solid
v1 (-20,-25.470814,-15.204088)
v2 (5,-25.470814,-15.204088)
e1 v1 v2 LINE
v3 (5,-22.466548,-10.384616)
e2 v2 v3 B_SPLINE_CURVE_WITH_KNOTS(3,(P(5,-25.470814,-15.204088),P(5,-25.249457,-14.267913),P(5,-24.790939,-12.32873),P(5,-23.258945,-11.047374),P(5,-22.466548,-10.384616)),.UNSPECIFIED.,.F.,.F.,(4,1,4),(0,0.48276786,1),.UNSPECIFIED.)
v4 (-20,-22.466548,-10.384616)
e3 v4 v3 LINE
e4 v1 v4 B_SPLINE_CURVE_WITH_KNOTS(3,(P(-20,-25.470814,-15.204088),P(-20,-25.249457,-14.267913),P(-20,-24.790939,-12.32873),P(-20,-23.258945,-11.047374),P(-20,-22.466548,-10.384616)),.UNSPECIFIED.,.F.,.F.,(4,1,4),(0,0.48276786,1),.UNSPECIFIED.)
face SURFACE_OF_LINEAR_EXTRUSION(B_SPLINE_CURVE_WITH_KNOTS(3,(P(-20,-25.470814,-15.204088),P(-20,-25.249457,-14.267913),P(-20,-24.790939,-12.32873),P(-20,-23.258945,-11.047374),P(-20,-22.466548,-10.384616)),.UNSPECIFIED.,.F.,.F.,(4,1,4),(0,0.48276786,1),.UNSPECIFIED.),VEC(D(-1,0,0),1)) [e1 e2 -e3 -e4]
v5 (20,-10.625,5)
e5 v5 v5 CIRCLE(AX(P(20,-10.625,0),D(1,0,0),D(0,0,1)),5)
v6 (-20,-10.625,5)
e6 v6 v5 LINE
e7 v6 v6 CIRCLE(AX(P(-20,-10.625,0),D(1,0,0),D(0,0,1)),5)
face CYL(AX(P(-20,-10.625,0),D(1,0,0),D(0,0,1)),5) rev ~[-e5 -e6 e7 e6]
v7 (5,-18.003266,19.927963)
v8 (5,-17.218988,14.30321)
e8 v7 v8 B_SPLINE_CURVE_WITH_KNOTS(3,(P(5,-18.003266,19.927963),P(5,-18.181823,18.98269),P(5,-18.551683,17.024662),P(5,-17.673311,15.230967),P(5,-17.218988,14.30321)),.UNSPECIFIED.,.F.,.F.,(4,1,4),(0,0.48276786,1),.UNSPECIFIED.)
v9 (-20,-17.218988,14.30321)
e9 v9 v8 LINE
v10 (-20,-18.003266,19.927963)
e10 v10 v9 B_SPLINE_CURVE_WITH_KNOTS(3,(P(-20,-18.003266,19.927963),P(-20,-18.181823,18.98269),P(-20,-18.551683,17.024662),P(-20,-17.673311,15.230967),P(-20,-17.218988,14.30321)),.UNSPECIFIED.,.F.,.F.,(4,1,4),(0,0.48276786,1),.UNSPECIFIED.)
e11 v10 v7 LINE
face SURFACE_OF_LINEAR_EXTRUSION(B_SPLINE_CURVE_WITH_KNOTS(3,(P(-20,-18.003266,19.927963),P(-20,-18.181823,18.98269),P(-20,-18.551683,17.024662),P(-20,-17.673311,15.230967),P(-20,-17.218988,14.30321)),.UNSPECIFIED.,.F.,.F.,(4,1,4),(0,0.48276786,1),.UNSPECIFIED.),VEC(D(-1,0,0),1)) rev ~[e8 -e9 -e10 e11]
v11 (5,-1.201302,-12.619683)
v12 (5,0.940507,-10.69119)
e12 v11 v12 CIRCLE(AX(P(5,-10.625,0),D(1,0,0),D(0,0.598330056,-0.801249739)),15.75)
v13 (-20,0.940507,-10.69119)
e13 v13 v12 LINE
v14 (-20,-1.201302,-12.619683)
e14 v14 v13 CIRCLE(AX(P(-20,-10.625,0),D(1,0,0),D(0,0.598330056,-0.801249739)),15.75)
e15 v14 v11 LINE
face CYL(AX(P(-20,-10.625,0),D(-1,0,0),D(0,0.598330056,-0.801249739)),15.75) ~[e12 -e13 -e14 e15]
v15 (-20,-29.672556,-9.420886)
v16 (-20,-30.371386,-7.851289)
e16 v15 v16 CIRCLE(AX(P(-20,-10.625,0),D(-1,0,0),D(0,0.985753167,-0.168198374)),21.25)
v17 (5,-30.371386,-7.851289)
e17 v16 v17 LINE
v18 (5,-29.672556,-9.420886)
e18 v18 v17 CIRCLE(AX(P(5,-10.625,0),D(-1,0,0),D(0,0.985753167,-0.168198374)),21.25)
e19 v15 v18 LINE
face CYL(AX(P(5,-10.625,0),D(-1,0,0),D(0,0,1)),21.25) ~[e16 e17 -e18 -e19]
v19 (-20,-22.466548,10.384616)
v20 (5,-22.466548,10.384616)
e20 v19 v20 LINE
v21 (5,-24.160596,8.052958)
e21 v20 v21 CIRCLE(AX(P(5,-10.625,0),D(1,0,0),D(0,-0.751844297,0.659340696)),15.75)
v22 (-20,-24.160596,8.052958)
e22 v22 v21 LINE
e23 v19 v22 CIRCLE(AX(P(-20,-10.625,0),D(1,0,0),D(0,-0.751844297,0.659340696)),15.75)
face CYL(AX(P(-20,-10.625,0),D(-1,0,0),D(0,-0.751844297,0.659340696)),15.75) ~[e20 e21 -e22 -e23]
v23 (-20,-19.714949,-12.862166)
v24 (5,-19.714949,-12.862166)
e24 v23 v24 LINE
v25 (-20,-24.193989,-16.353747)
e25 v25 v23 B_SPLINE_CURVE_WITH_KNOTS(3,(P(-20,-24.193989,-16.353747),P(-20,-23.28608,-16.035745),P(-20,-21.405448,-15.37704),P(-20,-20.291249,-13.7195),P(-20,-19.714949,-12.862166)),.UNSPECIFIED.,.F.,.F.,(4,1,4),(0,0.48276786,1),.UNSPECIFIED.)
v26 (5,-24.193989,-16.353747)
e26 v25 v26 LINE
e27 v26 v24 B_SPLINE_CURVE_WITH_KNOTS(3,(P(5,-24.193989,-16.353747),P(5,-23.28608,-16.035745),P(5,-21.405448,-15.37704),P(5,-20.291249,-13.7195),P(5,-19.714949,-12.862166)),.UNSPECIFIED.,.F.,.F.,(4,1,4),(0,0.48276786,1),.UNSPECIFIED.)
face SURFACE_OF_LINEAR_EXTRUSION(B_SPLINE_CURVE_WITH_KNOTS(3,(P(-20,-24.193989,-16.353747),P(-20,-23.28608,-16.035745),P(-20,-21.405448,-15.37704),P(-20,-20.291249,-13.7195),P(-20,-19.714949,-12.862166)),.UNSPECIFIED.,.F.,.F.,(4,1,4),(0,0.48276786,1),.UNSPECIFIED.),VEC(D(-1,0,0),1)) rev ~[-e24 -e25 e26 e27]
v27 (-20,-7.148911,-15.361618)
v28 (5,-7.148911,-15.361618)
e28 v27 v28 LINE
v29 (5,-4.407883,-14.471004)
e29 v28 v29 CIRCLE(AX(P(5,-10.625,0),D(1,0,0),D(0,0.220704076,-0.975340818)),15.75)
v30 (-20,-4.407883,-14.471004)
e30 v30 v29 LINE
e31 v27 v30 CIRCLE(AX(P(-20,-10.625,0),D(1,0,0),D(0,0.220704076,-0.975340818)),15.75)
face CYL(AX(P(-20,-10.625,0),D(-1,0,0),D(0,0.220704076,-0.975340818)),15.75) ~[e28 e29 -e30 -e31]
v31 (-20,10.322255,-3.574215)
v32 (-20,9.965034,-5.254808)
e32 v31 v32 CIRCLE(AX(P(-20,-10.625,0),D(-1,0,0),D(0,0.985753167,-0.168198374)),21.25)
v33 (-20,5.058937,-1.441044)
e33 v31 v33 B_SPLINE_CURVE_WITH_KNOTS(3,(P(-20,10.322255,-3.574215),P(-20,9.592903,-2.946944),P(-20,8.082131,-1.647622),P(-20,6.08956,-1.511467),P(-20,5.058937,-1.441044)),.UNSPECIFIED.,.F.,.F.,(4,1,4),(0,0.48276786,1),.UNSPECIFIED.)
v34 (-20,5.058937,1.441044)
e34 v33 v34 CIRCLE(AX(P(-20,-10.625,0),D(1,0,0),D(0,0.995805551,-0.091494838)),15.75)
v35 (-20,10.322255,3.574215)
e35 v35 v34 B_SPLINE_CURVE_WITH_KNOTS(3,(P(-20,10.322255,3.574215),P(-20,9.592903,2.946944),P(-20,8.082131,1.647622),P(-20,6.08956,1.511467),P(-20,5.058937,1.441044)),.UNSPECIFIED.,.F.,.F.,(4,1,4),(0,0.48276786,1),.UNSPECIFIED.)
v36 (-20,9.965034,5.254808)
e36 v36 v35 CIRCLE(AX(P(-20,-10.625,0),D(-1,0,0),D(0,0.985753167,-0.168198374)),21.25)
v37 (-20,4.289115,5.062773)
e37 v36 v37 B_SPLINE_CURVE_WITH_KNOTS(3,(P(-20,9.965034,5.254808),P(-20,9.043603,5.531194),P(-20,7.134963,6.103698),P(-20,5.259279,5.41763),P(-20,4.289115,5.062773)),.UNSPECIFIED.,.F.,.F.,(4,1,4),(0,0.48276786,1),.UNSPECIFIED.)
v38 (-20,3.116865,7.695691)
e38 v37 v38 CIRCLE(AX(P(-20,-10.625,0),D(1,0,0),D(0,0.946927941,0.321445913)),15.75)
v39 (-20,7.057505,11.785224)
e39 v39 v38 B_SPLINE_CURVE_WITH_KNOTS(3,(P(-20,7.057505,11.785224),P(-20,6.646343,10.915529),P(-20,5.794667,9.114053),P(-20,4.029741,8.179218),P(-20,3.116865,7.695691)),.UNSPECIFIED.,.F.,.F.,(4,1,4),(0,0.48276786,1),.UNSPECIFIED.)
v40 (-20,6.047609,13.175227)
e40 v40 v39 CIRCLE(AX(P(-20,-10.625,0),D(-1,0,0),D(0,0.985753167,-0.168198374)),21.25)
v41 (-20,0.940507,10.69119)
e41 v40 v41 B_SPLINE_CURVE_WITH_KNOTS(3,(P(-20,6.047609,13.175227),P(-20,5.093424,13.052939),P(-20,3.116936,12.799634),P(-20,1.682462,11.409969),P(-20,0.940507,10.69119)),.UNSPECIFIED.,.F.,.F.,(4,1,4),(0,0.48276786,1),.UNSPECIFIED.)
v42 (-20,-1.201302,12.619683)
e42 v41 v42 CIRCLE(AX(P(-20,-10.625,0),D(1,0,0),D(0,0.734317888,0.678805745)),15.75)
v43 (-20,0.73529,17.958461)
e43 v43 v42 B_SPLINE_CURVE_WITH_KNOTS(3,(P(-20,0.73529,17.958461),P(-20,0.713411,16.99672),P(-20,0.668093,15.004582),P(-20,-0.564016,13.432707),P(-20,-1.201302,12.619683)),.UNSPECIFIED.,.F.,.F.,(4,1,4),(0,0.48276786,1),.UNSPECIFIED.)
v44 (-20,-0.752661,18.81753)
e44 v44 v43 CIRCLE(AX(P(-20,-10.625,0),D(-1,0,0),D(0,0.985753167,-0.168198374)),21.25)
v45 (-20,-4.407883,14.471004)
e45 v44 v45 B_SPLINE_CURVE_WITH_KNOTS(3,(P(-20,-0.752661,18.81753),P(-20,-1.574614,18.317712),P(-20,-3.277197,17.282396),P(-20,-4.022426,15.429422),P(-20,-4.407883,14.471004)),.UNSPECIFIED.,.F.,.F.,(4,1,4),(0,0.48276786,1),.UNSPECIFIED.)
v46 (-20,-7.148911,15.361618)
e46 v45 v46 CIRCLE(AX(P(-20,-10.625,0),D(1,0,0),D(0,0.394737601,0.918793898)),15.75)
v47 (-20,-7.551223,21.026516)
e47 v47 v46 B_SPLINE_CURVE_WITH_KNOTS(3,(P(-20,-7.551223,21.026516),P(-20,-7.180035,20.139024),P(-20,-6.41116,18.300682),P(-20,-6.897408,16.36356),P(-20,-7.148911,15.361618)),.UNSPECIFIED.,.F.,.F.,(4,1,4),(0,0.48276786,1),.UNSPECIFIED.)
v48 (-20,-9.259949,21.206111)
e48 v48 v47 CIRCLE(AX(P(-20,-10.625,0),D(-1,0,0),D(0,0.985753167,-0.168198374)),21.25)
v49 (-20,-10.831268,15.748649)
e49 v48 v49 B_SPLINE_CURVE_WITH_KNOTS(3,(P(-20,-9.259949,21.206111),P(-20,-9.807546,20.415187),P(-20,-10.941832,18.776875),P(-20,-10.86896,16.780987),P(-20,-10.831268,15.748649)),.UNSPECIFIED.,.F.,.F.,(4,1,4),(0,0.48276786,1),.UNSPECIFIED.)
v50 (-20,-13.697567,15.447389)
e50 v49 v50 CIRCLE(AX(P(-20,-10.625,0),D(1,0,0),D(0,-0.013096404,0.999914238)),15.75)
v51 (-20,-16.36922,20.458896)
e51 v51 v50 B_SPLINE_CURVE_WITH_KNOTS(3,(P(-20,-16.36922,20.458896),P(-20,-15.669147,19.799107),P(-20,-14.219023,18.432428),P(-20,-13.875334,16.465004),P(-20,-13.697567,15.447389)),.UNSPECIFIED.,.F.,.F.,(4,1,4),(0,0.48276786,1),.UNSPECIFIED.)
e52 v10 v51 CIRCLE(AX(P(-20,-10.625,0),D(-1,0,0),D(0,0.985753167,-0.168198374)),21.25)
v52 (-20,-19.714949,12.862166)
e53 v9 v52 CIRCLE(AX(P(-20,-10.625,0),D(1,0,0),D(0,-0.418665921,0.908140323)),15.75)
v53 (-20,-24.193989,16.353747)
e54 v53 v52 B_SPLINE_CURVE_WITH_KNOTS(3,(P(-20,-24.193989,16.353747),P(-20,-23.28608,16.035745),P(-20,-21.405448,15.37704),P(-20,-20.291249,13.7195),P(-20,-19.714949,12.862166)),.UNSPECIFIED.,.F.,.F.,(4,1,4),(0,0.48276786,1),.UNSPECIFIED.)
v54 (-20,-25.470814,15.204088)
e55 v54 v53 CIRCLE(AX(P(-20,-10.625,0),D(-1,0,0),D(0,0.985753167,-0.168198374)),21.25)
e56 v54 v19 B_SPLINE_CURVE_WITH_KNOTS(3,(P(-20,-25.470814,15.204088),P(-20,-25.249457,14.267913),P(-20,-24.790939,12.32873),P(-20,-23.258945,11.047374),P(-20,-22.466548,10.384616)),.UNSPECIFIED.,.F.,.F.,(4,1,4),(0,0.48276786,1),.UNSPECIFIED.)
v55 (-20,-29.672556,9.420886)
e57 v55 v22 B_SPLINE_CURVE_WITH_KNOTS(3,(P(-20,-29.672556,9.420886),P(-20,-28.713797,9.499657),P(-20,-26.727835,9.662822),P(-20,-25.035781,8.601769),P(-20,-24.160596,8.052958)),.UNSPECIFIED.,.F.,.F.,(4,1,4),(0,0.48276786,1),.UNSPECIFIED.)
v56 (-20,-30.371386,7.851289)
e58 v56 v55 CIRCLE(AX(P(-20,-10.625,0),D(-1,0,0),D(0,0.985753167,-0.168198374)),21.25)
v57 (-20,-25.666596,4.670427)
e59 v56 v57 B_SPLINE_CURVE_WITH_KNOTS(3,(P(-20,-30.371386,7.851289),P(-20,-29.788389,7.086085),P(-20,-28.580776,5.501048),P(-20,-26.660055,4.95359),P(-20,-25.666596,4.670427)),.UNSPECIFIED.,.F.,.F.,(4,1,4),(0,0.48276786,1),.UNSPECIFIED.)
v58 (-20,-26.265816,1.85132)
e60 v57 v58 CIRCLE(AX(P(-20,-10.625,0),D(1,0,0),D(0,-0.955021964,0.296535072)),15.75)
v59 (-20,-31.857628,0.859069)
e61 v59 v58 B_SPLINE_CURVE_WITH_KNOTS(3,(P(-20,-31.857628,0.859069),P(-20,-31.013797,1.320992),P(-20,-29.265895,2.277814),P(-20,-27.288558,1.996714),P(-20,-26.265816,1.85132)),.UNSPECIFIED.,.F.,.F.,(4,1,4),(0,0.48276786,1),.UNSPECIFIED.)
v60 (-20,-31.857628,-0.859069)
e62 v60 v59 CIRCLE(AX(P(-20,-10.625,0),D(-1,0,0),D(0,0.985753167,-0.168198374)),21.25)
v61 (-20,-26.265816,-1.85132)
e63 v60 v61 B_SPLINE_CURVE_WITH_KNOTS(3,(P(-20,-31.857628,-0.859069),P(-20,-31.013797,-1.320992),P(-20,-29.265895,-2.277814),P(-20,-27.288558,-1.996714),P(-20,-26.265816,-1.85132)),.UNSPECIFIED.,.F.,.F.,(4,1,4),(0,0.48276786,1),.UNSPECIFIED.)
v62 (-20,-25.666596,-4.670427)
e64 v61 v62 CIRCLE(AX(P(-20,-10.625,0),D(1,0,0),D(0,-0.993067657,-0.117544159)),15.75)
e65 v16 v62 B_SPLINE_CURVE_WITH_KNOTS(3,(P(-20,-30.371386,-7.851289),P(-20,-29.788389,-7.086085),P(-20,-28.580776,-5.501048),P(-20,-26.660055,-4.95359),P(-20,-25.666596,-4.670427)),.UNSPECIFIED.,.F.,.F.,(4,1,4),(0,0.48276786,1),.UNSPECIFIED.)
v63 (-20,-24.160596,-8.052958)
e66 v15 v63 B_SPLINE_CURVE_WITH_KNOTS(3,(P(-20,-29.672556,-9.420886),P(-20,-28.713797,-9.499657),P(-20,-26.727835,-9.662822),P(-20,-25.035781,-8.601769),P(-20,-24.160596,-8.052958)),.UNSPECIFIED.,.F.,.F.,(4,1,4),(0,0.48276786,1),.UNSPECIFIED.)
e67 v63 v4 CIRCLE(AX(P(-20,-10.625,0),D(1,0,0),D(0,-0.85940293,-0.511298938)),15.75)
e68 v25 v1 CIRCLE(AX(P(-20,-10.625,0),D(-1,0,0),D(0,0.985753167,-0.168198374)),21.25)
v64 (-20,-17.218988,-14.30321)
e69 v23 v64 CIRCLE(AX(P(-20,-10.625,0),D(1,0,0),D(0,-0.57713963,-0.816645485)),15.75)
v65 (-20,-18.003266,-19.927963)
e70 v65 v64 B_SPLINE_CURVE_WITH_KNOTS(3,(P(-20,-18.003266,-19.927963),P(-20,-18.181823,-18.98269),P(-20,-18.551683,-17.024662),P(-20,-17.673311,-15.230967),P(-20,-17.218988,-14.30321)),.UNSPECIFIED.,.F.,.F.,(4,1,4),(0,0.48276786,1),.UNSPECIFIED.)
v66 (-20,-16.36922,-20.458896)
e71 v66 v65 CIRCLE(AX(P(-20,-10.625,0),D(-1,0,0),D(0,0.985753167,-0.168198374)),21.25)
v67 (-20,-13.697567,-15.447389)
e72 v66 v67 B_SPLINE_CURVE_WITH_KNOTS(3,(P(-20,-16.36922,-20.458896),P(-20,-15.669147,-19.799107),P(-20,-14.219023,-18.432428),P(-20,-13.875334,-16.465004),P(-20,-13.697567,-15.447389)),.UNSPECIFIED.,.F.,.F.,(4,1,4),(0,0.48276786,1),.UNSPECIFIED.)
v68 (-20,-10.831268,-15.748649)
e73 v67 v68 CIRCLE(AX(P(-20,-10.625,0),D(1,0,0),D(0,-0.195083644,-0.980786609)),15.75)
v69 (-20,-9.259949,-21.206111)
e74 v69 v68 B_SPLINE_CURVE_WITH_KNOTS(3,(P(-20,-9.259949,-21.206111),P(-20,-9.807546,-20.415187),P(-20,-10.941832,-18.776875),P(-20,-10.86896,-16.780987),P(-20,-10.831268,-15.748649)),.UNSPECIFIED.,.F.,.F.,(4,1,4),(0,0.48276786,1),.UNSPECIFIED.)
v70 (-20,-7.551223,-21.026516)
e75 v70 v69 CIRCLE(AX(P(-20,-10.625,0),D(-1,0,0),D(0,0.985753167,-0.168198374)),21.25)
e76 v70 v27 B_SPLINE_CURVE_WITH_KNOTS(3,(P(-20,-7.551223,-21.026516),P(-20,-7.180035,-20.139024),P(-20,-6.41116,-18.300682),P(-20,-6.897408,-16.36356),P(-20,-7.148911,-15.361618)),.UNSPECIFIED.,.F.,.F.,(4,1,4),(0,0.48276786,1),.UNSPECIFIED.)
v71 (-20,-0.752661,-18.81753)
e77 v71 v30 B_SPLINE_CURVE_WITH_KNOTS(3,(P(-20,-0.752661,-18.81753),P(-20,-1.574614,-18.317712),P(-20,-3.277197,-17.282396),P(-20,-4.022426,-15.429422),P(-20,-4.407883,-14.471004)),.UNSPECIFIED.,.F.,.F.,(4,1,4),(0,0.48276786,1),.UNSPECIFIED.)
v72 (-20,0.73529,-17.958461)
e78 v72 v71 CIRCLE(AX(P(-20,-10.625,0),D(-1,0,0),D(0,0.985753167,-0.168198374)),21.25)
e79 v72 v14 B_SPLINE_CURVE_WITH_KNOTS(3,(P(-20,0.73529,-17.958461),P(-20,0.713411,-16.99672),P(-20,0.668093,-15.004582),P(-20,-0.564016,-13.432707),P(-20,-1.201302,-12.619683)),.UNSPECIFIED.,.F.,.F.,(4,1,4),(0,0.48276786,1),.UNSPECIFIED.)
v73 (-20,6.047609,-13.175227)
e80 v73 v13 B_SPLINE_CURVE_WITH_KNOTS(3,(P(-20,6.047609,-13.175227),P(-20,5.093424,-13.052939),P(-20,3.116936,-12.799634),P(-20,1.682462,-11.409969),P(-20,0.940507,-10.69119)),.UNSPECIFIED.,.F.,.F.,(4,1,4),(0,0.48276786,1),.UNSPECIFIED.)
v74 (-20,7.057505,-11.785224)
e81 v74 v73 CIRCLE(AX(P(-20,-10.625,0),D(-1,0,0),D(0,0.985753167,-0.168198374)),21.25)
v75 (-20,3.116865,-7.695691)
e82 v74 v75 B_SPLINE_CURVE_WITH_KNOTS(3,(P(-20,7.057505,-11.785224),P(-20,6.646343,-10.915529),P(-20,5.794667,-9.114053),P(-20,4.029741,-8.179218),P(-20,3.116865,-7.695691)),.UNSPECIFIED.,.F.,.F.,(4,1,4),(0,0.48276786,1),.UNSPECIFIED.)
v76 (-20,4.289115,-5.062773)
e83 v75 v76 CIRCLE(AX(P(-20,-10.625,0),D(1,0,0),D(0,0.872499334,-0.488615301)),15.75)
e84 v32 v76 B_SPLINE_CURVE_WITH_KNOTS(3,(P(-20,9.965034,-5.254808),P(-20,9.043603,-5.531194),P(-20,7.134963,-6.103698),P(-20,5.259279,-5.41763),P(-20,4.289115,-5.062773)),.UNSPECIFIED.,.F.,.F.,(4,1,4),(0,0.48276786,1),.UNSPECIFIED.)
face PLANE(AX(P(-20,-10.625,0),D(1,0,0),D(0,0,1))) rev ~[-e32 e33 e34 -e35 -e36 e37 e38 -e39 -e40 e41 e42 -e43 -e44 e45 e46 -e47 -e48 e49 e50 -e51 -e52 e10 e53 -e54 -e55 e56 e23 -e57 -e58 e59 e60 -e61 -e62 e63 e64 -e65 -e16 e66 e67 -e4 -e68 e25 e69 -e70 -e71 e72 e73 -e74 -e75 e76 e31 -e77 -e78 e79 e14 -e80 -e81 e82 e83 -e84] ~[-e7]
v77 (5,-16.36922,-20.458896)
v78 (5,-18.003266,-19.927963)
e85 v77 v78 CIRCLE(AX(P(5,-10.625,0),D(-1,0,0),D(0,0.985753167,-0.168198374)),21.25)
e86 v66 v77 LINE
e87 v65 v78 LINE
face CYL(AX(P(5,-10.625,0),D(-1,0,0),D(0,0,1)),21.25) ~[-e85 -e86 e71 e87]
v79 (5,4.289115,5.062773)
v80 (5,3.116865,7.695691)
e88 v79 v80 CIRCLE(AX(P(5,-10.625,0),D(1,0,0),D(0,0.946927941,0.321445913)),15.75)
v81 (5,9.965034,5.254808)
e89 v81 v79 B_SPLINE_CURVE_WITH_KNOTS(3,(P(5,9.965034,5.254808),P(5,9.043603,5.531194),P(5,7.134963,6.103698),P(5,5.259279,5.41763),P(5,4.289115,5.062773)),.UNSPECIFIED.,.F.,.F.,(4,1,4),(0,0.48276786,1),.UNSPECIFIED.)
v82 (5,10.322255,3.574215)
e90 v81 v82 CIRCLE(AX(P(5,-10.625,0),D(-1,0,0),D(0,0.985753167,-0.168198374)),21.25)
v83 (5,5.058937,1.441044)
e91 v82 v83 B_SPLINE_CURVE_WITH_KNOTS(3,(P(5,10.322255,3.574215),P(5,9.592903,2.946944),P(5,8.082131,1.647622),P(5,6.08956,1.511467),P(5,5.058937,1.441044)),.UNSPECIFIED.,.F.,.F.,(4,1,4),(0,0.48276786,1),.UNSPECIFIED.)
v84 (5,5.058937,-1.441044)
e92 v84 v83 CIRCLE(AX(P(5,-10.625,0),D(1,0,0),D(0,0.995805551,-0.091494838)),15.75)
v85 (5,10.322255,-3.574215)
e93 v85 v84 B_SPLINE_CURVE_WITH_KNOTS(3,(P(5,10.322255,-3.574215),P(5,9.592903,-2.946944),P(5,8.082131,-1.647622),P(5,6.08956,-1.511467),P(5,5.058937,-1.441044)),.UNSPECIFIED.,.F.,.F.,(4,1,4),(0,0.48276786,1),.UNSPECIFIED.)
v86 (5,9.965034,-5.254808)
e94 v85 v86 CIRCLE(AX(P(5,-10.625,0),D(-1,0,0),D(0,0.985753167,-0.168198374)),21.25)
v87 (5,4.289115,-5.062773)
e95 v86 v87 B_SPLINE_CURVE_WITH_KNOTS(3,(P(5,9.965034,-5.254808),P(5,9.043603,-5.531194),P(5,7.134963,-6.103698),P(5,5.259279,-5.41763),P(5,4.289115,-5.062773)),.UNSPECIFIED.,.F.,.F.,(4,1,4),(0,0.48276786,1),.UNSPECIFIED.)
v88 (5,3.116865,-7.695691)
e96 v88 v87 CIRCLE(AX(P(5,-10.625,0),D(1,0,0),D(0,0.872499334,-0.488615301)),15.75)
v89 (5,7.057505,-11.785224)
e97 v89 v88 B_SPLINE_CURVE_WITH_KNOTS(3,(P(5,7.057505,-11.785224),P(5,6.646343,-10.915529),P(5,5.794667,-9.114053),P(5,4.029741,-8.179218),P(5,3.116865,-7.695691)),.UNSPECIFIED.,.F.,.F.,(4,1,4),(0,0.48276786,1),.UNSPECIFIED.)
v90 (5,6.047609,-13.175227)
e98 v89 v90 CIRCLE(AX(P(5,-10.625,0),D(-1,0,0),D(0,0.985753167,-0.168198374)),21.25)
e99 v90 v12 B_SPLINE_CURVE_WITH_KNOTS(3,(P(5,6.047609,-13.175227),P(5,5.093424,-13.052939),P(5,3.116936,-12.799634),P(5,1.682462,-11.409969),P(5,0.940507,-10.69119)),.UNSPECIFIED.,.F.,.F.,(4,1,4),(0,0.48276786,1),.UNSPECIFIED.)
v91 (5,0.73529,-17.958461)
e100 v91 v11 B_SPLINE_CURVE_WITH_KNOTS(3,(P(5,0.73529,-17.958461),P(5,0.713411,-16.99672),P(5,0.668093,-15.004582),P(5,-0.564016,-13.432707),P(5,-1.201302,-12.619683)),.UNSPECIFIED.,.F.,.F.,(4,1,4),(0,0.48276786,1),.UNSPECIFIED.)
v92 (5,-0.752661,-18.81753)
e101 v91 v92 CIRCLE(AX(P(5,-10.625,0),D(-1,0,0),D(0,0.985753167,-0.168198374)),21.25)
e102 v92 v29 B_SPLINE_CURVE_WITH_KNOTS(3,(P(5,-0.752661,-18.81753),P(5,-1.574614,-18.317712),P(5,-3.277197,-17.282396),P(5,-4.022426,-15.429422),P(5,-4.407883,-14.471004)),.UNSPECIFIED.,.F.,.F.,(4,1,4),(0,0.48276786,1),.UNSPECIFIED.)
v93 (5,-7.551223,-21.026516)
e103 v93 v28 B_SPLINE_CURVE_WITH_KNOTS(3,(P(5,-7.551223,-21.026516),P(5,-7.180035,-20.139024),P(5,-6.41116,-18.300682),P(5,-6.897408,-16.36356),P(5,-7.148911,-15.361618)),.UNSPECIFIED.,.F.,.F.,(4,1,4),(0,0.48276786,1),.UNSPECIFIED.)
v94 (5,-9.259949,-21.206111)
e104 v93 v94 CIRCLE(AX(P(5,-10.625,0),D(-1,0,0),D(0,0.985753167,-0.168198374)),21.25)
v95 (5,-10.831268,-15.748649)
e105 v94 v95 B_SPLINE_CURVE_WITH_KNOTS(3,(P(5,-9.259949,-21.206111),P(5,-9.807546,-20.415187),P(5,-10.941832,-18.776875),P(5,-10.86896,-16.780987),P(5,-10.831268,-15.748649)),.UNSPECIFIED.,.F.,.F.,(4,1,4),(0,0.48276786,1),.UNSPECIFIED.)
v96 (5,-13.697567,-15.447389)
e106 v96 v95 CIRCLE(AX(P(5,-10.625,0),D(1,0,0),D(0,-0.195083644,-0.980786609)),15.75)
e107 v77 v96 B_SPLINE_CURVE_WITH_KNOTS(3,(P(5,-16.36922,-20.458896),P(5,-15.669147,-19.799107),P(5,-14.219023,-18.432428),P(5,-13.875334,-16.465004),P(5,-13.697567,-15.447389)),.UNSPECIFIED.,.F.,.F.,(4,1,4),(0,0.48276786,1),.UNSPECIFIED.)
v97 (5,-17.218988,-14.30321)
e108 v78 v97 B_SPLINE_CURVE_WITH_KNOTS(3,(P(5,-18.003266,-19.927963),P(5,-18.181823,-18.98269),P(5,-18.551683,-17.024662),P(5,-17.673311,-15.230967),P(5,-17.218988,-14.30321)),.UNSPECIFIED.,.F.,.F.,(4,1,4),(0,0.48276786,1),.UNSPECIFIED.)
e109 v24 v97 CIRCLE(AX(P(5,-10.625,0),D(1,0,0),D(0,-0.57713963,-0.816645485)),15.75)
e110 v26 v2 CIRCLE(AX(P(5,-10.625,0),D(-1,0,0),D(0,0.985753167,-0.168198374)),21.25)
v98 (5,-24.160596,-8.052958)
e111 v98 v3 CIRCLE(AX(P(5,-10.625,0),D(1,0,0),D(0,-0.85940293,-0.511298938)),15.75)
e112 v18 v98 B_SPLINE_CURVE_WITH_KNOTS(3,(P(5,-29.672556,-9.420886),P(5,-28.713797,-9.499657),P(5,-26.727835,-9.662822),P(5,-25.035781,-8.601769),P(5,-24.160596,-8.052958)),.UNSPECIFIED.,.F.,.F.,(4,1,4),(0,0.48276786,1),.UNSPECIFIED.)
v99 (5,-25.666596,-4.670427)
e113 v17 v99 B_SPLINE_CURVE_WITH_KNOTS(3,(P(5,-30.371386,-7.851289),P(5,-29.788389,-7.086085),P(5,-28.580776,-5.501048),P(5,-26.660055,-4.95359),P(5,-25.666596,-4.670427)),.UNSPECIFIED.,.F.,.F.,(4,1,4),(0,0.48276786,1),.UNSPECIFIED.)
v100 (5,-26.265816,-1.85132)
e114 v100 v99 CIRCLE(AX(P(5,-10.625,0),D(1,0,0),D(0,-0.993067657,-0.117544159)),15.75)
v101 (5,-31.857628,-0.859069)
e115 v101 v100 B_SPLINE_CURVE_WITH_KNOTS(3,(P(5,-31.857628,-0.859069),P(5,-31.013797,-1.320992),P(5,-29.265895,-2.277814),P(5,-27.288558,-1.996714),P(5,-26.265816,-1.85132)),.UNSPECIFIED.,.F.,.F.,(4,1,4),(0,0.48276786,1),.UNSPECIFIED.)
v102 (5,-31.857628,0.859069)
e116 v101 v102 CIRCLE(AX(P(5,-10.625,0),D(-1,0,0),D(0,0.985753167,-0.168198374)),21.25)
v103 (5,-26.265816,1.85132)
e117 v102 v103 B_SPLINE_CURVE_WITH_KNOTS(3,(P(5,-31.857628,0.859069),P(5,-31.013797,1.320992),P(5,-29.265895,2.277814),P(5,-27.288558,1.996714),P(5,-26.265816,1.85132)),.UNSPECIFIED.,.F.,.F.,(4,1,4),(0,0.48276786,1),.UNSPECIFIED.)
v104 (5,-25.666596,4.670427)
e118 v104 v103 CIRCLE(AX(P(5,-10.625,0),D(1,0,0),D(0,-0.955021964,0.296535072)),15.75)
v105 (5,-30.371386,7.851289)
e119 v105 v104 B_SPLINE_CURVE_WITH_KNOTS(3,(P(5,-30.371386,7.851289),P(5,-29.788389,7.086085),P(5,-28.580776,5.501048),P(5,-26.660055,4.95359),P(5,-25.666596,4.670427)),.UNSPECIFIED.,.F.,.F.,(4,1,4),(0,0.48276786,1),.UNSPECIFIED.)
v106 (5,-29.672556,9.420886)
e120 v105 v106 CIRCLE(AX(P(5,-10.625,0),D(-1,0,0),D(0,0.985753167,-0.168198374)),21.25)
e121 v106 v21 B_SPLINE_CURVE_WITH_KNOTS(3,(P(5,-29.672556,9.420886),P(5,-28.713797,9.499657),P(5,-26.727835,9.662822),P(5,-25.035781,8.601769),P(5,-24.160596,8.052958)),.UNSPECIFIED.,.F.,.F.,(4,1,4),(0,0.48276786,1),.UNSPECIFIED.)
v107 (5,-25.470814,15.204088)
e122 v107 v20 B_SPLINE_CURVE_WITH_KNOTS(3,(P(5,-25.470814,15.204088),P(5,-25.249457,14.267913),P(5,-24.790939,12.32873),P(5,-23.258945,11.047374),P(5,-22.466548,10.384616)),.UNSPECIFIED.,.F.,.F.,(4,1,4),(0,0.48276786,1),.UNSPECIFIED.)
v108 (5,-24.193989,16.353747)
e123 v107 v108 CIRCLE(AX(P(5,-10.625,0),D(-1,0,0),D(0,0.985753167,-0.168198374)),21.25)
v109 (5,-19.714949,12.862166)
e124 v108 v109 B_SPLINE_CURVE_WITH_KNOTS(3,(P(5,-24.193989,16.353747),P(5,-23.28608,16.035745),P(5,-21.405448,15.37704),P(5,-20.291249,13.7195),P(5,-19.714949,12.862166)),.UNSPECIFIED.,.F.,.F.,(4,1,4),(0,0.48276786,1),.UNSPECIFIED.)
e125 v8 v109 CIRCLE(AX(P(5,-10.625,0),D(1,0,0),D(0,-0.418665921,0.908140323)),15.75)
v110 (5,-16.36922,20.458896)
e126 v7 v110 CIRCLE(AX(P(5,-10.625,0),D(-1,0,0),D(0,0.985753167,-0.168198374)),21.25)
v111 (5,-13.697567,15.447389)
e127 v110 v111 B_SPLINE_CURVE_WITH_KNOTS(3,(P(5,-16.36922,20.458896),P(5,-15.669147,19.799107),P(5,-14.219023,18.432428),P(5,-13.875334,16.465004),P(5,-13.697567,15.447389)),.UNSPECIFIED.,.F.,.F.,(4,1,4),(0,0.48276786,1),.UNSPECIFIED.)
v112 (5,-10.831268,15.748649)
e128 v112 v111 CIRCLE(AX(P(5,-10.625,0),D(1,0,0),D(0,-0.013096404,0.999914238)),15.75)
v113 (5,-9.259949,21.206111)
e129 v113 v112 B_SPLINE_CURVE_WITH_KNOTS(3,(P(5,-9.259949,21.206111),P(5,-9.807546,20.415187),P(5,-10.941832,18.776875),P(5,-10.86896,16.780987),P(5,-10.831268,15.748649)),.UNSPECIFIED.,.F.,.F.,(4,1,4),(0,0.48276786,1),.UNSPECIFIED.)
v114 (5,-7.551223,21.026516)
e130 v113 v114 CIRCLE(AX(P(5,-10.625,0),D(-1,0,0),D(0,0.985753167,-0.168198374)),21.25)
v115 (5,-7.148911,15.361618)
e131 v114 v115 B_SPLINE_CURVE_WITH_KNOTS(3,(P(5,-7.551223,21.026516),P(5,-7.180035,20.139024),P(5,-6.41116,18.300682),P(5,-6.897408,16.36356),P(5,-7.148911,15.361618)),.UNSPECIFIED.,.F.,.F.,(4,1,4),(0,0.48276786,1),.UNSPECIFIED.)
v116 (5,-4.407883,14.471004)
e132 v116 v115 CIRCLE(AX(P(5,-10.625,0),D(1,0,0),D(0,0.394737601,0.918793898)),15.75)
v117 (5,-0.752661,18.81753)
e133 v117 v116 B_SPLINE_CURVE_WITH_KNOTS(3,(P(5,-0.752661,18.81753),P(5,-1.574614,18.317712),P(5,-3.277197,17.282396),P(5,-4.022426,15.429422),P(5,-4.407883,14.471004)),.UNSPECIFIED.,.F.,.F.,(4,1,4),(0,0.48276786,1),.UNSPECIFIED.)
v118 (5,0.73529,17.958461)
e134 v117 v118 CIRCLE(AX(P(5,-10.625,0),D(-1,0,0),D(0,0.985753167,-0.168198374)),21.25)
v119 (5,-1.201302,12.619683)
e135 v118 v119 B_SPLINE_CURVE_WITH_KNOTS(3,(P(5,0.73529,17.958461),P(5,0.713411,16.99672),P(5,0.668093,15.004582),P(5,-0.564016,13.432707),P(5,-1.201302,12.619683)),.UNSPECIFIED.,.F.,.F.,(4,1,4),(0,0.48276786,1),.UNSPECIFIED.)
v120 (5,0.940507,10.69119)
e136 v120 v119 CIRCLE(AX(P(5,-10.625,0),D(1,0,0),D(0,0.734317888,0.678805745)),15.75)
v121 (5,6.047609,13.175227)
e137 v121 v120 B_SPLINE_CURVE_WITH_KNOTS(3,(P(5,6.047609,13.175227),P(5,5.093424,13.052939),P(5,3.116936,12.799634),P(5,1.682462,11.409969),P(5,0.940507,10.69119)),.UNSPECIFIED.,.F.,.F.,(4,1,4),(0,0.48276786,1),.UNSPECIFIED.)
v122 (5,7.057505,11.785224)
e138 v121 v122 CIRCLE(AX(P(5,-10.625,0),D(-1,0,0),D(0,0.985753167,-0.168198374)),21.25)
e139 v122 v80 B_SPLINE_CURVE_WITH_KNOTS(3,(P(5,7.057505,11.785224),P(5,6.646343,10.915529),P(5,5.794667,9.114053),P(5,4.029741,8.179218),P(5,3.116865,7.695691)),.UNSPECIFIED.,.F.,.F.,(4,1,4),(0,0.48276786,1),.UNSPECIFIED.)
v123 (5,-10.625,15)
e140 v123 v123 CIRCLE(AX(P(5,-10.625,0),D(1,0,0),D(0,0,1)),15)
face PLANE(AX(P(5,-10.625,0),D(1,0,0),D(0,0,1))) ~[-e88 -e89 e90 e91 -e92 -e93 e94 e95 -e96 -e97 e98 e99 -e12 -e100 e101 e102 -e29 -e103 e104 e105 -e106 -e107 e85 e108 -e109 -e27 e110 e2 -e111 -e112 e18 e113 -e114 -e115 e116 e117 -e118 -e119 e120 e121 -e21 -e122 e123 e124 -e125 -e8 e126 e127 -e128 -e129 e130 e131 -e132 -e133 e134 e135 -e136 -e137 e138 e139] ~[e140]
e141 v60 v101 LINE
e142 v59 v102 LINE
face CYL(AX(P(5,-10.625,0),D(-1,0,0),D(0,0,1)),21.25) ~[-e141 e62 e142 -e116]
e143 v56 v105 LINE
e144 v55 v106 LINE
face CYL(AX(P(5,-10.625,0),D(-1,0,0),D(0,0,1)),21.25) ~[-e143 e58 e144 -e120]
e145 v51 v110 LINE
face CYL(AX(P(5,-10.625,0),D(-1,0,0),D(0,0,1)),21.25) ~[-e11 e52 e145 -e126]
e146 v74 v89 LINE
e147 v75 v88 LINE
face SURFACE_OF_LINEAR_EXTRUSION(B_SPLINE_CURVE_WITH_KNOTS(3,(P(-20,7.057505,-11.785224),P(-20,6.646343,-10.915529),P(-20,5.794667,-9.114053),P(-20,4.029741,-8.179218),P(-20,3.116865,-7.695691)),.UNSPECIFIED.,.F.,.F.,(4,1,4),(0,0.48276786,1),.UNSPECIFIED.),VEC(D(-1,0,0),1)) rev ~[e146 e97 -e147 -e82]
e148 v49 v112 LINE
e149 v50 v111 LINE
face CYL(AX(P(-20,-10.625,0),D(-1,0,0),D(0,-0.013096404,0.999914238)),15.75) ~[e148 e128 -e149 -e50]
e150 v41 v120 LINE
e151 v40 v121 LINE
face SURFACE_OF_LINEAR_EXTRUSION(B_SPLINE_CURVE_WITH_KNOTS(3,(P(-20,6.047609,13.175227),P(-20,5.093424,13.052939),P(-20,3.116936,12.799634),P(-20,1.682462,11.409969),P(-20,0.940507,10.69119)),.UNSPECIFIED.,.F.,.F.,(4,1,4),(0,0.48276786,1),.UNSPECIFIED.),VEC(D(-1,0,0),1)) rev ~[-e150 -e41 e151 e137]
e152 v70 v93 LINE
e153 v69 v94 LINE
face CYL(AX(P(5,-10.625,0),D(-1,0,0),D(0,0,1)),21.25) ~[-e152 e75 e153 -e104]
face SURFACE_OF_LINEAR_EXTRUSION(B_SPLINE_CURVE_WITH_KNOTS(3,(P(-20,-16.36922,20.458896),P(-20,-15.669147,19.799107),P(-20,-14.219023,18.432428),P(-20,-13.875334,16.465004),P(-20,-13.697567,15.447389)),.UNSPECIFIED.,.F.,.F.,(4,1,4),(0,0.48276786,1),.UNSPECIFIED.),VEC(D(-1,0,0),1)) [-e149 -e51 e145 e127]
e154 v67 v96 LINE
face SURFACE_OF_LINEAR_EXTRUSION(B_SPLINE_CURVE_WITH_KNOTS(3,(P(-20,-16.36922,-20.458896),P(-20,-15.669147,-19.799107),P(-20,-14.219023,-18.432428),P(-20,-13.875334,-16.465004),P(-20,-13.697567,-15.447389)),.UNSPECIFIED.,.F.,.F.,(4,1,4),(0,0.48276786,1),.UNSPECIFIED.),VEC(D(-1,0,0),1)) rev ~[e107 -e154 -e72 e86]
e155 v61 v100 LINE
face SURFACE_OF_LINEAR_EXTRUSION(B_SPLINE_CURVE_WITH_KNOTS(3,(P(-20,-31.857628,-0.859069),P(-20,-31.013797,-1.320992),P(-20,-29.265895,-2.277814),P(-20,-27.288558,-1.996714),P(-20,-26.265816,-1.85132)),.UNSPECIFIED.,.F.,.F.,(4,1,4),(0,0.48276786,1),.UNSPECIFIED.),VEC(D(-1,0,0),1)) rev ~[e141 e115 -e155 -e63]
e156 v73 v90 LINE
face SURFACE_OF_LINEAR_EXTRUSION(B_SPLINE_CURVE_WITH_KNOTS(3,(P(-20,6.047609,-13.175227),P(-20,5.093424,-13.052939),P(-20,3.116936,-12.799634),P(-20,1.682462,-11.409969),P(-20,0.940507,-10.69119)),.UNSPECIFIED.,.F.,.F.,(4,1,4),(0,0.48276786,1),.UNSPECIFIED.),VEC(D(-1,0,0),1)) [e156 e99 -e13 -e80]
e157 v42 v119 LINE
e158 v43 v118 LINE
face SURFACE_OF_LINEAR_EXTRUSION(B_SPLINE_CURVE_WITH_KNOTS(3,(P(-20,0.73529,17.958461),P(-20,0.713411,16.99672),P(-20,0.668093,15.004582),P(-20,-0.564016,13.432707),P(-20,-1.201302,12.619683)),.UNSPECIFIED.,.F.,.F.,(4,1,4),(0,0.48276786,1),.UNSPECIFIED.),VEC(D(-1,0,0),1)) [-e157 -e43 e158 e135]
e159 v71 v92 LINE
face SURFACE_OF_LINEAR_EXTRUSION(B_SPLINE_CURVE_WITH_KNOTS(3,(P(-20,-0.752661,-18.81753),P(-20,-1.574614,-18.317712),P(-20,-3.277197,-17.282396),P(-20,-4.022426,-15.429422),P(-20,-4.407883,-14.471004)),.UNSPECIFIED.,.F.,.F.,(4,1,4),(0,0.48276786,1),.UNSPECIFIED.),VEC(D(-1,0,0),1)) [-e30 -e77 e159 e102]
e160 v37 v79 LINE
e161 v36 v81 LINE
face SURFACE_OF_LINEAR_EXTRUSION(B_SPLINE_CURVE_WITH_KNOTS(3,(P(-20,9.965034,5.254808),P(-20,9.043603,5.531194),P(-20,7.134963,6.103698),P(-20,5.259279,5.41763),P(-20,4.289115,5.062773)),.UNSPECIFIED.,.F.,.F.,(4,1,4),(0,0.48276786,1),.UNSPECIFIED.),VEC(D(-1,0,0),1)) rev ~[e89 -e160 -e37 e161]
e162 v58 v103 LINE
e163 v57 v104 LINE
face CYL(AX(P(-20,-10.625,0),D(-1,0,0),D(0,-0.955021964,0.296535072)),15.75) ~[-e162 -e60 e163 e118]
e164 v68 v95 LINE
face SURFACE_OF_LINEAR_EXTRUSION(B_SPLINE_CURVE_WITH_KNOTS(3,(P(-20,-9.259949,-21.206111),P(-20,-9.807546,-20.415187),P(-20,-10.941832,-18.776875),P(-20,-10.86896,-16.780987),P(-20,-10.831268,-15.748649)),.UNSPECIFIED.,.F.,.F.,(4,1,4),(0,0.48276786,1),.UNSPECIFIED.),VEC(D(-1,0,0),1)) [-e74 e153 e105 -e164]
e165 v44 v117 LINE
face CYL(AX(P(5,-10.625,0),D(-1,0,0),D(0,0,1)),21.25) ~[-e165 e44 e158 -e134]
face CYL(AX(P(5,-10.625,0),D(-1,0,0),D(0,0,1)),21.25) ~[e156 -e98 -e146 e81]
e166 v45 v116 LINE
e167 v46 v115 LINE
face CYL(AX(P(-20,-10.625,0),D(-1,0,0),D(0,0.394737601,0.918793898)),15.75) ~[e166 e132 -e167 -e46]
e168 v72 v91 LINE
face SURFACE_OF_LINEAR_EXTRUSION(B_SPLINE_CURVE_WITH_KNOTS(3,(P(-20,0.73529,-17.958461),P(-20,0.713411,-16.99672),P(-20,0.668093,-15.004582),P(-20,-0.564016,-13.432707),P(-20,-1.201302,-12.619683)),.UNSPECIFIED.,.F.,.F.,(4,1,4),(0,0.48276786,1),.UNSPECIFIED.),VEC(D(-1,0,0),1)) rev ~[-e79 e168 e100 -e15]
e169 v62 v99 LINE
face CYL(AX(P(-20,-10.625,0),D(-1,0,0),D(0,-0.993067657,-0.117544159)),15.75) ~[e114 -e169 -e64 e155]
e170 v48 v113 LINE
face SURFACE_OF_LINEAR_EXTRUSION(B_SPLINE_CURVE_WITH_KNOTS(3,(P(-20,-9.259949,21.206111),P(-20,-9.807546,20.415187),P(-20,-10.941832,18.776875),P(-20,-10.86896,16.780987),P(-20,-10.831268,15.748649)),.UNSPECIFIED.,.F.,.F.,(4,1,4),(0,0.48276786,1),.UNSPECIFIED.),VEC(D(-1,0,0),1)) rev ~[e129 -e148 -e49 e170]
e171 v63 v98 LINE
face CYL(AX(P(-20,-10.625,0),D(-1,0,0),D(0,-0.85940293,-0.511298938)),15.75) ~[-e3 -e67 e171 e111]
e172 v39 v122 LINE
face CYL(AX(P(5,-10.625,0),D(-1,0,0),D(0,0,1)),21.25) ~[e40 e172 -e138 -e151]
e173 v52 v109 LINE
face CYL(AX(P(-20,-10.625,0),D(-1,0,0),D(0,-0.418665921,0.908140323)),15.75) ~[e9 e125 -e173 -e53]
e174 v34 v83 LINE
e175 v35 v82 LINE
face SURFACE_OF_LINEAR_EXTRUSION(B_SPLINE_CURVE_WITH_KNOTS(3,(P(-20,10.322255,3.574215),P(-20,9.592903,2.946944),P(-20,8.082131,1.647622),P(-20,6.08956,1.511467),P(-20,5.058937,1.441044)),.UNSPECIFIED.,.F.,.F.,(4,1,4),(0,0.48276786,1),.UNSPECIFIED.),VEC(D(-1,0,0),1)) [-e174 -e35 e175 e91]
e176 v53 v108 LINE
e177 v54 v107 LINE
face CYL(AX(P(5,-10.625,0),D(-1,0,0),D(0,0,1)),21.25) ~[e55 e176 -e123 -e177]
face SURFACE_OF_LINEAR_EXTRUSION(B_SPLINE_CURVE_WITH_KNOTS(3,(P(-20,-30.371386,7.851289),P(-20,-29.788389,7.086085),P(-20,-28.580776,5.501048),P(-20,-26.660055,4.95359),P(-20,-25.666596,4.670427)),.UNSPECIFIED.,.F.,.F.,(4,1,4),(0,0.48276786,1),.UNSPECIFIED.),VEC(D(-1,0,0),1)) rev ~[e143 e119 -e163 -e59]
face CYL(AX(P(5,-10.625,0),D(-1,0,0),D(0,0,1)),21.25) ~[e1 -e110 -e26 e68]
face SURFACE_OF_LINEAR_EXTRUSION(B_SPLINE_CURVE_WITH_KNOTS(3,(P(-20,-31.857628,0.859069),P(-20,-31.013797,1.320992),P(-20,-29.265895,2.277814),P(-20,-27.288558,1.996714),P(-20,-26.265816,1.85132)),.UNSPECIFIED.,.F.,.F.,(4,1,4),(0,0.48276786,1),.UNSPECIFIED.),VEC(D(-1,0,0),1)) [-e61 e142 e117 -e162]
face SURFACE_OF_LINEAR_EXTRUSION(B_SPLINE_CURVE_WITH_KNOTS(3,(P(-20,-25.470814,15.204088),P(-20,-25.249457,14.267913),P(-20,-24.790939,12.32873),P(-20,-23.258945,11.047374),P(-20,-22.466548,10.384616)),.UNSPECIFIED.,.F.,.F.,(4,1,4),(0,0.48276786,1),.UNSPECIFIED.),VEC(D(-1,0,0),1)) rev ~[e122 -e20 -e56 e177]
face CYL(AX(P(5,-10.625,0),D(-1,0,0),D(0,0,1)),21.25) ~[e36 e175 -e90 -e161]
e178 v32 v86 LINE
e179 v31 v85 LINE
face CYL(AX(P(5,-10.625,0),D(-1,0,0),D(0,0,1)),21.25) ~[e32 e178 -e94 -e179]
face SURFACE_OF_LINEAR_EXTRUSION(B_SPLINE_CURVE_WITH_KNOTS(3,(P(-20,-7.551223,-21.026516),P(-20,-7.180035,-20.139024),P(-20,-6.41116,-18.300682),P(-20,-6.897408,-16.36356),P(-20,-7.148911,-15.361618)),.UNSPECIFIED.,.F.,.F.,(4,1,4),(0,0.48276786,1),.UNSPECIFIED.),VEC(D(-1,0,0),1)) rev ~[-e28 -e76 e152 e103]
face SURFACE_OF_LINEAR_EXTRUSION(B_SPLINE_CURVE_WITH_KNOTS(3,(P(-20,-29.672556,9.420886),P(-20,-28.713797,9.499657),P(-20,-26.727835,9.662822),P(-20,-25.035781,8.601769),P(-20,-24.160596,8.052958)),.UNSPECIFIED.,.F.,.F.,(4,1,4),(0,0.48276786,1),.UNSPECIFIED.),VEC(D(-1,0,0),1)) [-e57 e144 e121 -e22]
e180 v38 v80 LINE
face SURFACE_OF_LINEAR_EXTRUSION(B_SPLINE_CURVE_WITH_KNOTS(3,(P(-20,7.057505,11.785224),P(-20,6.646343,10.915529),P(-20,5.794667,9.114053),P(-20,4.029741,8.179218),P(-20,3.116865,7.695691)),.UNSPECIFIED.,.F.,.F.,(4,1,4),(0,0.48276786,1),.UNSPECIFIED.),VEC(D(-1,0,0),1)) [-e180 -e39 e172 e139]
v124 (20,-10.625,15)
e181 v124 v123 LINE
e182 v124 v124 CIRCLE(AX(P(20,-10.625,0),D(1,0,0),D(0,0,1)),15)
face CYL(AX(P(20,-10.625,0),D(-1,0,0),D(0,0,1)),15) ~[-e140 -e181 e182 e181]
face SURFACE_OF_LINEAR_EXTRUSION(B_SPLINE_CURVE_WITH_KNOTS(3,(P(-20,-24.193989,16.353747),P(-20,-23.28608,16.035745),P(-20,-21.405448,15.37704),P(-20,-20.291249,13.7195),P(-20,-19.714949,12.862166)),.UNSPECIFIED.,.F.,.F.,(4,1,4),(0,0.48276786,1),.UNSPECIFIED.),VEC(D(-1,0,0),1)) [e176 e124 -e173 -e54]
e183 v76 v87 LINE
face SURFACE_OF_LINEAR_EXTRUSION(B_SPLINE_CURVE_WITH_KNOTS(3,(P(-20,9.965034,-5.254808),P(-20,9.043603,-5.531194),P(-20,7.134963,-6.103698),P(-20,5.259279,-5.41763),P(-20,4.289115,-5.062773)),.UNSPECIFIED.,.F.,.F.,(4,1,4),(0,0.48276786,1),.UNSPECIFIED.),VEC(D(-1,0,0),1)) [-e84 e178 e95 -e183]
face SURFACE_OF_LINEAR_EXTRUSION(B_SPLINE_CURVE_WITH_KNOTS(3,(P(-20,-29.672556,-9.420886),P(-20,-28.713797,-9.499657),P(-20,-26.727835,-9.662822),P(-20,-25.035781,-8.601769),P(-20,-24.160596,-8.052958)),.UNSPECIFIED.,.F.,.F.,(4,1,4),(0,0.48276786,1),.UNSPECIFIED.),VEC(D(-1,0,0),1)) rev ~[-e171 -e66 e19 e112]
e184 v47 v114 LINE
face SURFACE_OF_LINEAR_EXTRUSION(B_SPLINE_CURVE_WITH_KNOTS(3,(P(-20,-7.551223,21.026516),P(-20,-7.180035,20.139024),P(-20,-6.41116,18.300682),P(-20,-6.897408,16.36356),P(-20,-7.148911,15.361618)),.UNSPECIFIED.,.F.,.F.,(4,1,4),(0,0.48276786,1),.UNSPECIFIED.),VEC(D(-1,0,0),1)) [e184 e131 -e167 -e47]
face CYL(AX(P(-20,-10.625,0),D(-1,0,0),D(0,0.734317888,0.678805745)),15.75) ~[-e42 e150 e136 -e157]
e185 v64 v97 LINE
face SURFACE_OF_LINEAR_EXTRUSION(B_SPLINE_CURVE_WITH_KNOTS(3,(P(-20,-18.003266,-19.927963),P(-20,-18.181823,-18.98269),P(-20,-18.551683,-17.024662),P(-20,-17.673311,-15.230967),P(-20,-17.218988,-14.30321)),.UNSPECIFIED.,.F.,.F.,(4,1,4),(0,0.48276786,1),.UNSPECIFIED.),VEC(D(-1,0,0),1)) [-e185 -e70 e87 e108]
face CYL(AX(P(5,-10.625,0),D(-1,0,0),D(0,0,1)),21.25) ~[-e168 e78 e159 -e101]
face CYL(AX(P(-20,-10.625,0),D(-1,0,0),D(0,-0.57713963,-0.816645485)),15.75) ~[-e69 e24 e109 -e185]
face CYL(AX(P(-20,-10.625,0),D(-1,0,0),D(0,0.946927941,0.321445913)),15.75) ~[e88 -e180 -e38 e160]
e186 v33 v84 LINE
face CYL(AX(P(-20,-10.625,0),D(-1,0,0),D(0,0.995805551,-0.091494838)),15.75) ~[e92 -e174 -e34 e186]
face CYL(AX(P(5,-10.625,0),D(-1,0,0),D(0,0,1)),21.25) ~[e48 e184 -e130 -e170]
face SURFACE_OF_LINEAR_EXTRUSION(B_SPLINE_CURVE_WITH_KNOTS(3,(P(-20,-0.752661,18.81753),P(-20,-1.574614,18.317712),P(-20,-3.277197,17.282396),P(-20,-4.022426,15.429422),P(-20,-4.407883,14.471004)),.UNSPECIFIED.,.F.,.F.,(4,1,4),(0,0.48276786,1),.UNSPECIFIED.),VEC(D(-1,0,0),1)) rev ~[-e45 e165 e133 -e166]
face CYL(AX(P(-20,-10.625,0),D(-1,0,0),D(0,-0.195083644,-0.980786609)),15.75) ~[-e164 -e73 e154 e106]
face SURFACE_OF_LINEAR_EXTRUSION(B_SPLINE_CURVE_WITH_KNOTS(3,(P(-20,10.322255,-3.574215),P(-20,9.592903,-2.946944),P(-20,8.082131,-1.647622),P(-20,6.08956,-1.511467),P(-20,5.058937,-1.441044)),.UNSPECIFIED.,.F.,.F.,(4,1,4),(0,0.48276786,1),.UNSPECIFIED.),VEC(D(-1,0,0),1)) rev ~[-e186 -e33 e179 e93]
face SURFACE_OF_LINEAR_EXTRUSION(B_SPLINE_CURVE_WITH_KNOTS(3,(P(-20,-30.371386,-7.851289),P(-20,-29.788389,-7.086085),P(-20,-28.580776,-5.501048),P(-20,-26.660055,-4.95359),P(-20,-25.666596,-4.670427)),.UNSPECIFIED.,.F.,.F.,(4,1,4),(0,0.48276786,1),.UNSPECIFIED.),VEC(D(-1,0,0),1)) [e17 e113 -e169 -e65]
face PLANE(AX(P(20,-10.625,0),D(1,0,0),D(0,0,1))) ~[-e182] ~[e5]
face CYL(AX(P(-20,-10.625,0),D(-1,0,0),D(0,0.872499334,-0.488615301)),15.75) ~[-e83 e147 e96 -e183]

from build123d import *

# Parameters (mm, degrees)
KUGGLUCKA_DEPTH  = 25
CIRPATTERN_COUNT = 15


with BuildPart() as part:
    # Ritning 1 → Kugghjulsämne (revolve)
    with BuildSketch(Plane.XY, mode=Mode.PRIVATE) as kugghjuls_mne_sk:
        Polygon((-20, -5.625), (20, -5.625), (20, 4.375), (5, 4.375), (5, 10.625), (-20, 10.625), align=None)
    revolve(kugghjuls_mne_sk.sketch.rotate(Axis((-20, -10.625, 0), (1, 0, 0)), 90), axis=Axis((-20, -10.625, 0), (1, 0, 0)))

    # Ritning 2 → Kugglucka (cut)
    with BuildSketch(Plane.ZY.offset(20)):
        with BuildLine():
            Line((3.574215437, 10.322254808), (0, 13.896470246))
            Line((0, 13.896470246), (-3.574215437, 10.322254808))
            add(Edge.make_bspline(
                [(-3.574215437, 10.322254808), (-2.94694424, 9.592902819), (-1.647621629, 8.082131184), (-1.511467175, 6.089559524), (-1.441043715, 5.058937421)],
                knots=[0, 0, 0, 0, 0.48276786, 1, 1, 1, 1], degree=3))
            ThreePointArc((-1.441043715, 5.058937421), (0, 5.125), (1.441043715, 5.058937421))
            add(Edge.make_bspline(
                [(3.574215437, 10.322254808), (2.94694424, 9.592902819), (1.647621629, 8.082131184), (1.511467175, 6.089559524), (1.441043715, 5.058937421)],
                knots=[0, 0, 0, 0, 0.48276786, 1, 1, 1, 1], degree=3))
        make_face()
    kugglucka = extrude(amount=-KUGGLUCKA_DEPTH, mode=Mode.SUBTRACT)

    # CirPattern: Kugglucka ×15 about axis
    cirpattern_axis = Axis((-20, -10.625, 0), (-1, 0, 0))
    for i in range(1, CIRPATTERN_COUNT):
        add(kugglucka.rotate(cirpattern_axis, i * 360 / CIRPATTERN_COUNT), mode=Mode.SUBTRACT)


solid = part.part
